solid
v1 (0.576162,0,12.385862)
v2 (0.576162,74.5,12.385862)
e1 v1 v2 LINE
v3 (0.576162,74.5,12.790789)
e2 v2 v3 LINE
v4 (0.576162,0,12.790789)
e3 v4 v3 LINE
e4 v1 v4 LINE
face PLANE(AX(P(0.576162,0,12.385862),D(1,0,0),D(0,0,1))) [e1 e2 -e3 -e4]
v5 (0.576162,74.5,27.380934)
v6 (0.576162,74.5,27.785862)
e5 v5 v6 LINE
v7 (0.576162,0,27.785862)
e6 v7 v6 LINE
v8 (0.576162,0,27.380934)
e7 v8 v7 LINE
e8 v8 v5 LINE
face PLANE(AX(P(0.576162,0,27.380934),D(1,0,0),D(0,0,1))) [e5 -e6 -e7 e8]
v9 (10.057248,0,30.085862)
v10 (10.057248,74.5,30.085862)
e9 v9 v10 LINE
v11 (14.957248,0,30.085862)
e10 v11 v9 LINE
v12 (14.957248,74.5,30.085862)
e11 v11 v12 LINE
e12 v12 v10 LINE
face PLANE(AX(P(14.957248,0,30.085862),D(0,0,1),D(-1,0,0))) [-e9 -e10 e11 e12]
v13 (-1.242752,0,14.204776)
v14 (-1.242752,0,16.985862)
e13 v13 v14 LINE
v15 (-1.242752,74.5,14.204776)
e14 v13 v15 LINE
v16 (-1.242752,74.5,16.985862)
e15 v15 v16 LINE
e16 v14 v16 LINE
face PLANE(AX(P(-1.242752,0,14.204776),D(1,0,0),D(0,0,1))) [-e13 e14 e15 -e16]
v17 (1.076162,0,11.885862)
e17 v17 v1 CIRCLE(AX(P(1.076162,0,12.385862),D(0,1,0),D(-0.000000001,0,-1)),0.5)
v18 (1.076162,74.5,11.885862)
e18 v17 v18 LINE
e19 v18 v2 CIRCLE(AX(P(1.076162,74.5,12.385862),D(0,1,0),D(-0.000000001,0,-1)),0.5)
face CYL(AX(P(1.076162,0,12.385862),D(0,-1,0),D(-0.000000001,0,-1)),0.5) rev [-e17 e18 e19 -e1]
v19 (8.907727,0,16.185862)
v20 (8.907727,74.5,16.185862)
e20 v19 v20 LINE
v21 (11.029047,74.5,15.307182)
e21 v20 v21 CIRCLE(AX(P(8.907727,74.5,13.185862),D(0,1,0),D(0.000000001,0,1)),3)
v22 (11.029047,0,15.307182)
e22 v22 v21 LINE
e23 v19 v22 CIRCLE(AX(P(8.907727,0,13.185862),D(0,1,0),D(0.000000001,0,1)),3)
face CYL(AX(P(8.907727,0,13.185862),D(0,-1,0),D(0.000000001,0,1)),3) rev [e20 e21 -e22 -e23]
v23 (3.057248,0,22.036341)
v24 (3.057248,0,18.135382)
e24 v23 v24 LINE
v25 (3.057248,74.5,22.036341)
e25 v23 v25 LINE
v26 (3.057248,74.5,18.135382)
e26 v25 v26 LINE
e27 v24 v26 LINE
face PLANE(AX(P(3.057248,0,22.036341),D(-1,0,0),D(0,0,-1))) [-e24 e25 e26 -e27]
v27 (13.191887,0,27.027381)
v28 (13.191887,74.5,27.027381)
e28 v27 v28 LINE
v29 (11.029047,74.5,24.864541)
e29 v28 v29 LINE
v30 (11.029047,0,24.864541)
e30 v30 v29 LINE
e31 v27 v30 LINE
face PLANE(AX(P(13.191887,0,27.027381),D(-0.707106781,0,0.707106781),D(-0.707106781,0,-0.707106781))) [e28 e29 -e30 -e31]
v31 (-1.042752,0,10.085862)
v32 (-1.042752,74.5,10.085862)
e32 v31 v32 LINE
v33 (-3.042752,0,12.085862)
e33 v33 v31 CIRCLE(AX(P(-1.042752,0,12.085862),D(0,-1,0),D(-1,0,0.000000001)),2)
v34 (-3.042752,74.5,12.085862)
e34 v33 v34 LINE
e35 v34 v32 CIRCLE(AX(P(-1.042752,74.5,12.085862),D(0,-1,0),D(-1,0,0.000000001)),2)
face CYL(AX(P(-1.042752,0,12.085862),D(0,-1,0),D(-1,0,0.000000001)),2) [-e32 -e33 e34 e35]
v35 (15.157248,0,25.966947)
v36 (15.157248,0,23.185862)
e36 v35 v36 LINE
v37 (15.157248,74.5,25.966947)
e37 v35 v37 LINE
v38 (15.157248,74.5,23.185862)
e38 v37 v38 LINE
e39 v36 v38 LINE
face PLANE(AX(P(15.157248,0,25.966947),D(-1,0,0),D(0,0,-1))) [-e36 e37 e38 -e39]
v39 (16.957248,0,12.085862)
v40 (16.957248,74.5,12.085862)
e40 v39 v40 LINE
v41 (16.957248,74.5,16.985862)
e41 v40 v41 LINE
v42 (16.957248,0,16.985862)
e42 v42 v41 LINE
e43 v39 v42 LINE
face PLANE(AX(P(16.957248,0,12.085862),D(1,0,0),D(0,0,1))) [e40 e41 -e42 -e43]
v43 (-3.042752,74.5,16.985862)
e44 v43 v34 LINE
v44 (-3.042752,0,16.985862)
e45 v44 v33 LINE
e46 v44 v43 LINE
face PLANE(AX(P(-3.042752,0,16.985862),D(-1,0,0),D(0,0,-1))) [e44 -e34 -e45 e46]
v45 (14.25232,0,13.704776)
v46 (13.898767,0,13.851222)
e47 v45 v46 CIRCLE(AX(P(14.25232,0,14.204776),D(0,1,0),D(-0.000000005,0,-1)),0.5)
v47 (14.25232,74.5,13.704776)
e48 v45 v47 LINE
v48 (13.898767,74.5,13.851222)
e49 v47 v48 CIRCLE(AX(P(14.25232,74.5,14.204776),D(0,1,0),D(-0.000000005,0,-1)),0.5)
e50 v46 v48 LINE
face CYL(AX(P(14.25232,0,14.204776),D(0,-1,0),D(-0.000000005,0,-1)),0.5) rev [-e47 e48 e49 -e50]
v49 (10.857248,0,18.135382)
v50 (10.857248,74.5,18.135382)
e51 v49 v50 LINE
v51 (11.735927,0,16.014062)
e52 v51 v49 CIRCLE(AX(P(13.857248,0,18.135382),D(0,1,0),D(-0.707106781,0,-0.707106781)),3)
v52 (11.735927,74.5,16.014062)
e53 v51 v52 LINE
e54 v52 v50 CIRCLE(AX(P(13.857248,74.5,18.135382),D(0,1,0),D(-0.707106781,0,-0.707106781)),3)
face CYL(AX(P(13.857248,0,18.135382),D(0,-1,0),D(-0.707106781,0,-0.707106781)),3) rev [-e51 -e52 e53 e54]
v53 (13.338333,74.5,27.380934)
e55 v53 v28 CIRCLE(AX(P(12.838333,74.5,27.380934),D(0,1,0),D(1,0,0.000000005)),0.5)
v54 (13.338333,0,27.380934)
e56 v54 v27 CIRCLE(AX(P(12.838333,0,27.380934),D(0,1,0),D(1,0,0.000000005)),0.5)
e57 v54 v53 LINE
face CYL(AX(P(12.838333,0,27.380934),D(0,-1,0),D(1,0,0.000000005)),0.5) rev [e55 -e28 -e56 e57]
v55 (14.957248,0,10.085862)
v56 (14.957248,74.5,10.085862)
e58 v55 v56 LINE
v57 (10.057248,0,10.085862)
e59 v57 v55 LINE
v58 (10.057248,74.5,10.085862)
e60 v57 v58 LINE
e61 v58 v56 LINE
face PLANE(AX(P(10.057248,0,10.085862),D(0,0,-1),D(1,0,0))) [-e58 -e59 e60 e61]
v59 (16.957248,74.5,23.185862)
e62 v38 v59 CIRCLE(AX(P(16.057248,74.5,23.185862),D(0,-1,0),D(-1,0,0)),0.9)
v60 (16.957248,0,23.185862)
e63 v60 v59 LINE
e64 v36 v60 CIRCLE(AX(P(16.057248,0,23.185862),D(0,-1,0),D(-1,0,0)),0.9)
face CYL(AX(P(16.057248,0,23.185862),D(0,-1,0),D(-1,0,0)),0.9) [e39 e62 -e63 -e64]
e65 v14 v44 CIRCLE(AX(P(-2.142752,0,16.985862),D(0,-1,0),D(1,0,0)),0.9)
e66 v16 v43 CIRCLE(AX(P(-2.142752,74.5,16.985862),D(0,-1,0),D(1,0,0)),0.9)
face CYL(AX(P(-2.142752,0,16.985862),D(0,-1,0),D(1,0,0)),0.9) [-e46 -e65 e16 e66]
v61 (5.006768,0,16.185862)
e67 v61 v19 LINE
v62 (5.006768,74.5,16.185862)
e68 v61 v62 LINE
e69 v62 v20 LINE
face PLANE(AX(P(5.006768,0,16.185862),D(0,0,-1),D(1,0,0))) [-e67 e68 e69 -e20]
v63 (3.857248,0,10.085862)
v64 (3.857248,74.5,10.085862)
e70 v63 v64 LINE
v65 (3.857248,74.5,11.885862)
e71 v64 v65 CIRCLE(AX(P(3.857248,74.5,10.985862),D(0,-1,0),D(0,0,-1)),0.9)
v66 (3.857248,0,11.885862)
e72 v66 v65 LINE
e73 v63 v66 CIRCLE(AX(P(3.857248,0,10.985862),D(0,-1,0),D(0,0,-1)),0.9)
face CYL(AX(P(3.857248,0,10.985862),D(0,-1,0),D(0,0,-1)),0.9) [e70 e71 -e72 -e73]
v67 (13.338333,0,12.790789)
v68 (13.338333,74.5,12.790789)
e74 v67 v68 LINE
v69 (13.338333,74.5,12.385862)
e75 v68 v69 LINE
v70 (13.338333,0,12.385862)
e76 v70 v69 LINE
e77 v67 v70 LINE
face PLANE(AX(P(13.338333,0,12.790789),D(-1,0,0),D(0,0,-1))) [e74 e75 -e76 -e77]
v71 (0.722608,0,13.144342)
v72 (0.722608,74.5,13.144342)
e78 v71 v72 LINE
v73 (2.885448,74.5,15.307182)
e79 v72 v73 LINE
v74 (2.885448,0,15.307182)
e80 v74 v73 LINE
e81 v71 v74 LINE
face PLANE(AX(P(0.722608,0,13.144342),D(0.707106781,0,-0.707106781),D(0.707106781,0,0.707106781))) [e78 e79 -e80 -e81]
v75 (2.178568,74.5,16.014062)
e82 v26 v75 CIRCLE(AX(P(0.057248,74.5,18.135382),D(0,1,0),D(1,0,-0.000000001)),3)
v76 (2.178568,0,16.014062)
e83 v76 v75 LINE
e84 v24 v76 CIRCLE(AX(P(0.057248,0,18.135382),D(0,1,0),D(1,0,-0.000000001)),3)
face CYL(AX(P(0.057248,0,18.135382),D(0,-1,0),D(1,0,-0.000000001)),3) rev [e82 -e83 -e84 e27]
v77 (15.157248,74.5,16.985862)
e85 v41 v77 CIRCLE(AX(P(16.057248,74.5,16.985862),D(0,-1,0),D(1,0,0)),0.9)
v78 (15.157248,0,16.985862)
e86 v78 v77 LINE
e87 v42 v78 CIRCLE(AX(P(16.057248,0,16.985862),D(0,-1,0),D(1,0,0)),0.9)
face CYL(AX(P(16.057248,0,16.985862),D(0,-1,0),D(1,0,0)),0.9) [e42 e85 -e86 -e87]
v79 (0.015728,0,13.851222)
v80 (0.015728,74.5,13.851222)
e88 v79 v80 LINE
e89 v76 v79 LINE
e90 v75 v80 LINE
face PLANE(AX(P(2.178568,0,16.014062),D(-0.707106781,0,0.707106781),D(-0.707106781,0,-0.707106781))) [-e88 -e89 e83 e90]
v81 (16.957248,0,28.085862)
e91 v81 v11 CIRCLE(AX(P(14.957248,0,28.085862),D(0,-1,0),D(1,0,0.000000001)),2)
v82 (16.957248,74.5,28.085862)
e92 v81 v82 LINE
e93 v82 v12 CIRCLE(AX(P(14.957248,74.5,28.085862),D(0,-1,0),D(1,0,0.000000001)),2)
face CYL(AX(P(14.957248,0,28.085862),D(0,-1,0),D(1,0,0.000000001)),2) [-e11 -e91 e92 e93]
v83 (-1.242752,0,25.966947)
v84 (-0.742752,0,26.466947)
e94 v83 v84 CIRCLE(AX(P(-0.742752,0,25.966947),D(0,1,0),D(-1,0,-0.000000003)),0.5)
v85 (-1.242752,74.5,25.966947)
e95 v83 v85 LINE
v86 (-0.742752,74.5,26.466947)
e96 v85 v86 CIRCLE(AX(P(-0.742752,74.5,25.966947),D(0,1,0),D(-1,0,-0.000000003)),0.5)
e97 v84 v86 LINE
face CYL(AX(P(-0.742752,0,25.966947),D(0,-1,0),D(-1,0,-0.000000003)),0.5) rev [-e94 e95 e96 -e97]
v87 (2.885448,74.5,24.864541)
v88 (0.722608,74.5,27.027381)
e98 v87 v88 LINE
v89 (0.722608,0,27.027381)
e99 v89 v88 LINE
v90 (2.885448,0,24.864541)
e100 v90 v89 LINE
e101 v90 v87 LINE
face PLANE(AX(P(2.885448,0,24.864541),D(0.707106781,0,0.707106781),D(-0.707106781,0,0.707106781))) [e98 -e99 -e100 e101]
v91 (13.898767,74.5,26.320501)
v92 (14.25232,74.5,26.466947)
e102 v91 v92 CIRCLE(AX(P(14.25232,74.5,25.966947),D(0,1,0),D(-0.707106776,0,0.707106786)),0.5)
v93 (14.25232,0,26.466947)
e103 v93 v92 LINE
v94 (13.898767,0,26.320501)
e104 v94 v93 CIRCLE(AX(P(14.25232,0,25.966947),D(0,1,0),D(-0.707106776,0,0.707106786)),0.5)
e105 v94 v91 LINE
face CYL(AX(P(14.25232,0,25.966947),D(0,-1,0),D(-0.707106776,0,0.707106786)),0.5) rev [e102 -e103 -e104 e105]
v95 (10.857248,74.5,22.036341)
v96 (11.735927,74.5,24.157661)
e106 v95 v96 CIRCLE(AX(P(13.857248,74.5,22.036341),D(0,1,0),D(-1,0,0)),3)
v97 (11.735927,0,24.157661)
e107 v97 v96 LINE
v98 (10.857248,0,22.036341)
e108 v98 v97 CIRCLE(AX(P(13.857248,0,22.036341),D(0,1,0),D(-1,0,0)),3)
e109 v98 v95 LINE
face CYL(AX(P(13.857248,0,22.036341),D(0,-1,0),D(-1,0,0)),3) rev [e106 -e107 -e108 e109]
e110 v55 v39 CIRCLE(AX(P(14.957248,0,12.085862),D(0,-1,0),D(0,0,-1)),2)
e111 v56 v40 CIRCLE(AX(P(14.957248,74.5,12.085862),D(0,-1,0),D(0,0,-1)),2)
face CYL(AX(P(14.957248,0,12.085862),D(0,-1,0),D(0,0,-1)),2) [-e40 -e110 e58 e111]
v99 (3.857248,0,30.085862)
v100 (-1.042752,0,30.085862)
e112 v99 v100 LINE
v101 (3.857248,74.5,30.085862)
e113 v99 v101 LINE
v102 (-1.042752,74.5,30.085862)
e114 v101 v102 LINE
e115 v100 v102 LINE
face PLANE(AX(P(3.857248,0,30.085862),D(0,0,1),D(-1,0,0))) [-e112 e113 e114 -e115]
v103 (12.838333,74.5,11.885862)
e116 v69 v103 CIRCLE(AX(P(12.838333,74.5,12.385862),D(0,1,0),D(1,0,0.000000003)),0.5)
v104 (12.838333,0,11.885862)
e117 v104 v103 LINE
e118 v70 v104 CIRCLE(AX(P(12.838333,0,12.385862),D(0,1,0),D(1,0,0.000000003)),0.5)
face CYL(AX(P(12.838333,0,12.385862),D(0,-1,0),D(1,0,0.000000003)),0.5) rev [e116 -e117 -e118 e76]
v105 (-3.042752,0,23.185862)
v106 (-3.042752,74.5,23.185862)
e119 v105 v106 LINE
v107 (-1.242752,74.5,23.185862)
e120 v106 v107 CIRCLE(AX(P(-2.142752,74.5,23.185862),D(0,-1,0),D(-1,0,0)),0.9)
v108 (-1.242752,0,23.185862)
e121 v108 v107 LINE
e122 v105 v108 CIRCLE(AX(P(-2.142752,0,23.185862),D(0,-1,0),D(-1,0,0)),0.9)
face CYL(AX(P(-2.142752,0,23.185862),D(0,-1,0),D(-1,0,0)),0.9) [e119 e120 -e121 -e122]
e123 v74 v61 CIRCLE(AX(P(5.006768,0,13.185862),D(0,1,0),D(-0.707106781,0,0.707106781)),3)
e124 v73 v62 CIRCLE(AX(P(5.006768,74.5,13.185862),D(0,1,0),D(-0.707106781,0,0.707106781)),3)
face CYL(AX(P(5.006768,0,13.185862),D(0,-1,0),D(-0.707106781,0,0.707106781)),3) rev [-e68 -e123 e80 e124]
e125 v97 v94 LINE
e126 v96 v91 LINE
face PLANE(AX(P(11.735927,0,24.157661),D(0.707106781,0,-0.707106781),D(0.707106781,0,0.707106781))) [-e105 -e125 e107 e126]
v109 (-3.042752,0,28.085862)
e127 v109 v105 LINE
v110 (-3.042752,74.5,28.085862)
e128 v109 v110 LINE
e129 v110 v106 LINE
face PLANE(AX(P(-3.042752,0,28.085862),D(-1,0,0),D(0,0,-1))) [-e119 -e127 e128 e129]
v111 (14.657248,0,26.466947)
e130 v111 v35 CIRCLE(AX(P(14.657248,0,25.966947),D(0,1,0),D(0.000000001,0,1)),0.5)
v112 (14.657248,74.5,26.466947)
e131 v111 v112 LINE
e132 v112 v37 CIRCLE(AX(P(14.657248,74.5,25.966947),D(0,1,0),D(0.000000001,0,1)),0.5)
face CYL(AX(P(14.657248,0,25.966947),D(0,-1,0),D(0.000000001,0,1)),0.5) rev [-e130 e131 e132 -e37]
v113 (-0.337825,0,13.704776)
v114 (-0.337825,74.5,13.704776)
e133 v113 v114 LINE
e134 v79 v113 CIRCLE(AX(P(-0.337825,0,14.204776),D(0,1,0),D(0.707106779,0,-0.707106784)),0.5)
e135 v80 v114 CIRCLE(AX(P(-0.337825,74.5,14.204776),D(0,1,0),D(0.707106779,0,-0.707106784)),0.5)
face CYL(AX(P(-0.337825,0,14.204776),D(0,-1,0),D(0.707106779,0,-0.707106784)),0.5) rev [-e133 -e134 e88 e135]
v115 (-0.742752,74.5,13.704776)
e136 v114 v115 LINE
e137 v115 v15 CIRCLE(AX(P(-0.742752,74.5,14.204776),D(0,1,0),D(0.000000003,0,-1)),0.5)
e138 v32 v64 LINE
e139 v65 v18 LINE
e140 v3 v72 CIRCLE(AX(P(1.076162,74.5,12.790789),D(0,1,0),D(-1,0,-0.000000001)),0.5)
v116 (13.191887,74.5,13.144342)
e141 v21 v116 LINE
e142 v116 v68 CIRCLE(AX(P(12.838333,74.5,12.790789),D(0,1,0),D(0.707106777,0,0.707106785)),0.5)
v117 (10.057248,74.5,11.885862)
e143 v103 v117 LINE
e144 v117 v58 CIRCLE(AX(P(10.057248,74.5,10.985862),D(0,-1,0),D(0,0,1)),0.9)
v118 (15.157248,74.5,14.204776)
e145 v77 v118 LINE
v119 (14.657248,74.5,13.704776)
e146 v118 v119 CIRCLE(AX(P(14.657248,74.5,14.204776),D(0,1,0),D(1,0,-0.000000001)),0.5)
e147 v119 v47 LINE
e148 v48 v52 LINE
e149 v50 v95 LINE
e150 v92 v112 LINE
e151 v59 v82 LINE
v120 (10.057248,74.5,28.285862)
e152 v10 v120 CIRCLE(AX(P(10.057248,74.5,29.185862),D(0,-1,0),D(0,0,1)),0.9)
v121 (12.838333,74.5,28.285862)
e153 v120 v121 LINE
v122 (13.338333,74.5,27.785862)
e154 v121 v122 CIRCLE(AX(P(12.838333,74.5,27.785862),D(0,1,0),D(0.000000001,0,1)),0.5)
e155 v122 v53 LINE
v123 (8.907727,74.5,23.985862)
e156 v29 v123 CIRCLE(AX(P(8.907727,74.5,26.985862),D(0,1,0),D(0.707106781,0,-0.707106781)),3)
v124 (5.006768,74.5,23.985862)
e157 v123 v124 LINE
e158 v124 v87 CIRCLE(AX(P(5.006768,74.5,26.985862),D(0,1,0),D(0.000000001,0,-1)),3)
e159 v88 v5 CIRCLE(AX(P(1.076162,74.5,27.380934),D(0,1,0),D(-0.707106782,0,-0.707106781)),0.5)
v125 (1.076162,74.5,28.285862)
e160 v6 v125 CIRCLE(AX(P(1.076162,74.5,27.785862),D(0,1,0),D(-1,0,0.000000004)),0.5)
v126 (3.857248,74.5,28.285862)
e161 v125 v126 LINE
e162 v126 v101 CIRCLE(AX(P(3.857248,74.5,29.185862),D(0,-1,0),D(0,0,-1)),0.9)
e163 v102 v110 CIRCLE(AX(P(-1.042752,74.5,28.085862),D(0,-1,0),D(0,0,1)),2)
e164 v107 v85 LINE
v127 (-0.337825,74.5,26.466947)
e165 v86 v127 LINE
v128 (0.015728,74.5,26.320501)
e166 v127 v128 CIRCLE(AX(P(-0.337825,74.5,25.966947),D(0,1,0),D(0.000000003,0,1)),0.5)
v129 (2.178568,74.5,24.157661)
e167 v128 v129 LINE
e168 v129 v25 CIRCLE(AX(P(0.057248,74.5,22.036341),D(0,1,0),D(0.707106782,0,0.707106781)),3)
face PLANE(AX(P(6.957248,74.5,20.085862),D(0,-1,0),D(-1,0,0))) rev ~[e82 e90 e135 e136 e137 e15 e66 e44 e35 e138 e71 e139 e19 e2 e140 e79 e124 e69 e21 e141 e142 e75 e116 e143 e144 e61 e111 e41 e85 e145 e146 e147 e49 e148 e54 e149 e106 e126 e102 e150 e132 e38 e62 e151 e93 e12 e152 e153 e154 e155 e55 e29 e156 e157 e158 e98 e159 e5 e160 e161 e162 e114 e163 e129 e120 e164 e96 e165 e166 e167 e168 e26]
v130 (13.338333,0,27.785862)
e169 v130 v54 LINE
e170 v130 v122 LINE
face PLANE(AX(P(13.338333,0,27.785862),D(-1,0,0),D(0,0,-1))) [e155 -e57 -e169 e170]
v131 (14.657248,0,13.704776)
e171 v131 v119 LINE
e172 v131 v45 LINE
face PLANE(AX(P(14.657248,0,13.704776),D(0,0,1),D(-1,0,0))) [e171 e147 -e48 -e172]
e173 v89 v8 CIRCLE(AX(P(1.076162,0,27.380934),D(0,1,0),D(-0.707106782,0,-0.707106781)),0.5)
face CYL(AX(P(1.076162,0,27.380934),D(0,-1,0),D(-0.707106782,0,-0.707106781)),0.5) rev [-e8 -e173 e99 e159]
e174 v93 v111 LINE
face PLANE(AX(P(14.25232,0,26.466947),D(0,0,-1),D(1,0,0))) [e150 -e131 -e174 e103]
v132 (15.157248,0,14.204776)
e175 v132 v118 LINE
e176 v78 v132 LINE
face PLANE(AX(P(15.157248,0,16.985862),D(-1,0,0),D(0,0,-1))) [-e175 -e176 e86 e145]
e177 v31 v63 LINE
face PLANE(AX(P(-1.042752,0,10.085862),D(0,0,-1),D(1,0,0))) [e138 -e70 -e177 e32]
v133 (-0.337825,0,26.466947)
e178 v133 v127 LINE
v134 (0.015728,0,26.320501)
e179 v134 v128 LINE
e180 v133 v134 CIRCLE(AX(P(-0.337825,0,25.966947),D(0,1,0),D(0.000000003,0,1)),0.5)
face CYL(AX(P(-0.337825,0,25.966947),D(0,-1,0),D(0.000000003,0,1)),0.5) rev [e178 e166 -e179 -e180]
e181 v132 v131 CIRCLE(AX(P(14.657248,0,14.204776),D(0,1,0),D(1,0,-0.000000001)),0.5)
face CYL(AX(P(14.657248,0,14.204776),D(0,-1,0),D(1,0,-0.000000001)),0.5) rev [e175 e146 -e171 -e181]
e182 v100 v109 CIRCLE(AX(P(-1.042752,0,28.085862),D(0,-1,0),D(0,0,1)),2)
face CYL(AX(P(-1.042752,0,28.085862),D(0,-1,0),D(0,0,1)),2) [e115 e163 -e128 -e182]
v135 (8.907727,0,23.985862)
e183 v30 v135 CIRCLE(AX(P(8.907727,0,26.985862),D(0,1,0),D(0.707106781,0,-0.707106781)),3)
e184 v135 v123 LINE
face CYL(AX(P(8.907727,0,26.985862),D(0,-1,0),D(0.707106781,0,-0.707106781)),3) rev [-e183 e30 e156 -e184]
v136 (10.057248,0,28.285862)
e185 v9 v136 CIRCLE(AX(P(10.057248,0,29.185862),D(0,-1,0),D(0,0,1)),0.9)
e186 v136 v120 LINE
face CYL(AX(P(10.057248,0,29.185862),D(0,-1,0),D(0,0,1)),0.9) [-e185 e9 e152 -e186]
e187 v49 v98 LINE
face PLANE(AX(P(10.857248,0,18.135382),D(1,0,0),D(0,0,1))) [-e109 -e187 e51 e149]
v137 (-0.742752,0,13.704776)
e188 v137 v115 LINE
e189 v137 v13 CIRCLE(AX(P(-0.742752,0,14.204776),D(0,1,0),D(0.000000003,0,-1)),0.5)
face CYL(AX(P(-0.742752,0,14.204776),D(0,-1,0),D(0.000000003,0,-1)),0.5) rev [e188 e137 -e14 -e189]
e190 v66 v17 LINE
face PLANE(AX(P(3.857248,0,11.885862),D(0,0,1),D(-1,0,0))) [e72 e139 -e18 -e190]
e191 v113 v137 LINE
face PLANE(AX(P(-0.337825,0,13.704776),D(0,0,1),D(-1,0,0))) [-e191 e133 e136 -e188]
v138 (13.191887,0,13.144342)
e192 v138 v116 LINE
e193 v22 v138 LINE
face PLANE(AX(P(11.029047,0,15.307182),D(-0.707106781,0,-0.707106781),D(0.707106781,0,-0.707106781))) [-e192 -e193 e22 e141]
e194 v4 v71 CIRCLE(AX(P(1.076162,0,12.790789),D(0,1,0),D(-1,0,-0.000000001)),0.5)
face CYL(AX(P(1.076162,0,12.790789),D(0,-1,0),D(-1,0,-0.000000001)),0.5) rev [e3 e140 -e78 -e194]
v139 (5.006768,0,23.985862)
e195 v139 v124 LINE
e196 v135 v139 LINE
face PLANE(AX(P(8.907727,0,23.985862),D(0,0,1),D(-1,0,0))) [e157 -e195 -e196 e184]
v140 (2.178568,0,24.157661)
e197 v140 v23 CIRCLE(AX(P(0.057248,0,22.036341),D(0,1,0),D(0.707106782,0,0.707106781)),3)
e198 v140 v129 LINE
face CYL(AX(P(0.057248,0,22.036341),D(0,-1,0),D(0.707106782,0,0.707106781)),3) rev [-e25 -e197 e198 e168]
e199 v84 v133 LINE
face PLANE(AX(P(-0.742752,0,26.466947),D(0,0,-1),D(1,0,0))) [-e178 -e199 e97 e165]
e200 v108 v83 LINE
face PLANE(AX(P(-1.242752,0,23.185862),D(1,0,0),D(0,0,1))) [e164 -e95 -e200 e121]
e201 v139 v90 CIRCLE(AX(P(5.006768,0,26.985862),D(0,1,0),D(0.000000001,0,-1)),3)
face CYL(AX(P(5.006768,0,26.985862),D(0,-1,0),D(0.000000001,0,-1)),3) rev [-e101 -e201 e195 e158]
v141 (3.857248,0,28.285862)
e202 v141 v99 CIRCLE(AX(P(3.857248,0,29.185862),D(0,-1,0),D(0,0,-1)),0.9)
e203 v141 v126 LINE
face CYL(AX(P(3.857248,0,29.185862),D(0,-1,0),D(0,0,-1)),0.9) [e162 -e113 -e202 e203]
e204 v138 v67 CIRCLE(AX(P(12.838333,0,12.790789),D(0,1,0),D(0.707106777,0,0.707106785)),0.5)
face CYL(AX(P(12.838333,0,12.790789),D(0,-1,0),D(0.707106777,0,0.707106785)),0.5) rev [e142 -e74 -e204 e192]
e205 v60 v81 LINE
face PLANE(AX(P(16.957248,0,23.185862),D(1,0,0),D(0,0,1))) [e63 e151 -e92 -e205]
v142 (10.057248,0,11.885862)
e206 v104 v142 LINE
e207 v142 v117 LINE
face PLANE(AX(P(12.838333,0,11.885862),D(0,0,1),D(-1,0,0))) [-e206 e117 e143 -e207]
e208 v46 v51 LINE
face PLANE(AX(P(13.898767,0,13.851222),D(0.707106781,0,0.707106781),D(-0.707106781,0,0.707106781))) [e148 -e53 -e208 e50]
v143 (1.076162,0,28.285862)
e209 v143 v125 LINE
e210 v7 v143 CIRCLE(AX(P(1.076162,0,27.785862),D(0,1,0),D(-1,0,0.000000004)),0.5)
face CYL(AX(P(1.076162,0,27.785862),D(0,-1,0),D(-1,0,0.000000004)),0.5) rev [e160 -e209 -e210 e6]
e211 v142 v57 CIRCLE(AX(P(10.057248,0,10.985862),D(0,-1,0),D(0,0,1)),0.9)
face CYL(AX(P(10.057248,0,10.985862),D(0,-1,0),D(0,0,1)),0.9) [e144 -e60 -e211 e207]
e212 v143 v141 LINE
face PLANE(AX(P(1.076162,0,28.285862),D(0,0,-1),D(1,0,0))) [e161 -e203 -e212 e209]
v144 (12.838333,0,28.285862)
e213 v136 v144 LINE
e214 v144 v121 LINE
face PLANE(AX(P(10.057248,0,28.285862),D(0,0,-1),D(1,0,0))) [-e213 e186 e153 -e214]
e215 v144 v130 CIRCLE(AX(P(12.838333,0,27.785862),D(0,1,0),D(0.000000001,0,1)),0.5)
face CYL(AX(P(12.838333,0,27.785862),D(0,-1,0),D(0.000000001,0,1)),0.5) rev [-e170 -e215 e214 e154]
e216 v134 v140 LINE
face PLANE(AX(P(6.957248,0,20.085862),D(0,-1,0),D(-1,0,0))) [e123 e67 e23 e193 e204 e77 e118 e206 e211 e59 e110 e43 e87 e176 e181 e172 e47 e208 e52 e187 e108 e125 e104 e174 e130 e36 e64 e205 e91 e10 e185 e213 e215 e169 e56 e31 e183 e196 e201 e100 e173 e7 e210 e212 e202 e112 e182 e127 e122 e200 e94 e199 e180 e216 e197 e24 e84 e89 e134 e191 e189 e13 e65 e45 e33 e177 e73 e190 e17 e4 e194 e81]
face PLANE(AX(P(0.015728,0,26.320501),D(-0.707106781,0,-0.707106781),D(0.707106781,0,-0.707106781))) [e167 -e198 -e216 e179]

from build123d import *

# Parameters (mm, degrees)
EXTRUDE_1_DEPTH = 74.5


with BuildPart() as part:
    # 草图1 → 凸台-拉伸1 (new body)
    with BuildSketch(Plane(origin=(0, 0, 0), x_dir=(1, 0, 0), z_dir=(0, 1, 0))):
        with BuildLine():
            Line((-1.042752475, -10.085861632), (3.857247525, -10.085861632))
            ThreePointArc((3.857247525, -10.085861632), (4.757247525, -10.985861632), (3.857247525, -11.885861632))
            Line((3.857247525, -11.885861632), (1.076161722, -11.885861632))
            ThreePointArc((1.076161722, -11.885861632), (0.722608332, -12.032308241), (0.576161722, -12.385861632))
            Line((0.576161722, -12.385861632), (0.576161722, -12.790788968))
            ThreePointArc((0.576161722, -12.790788968), (0.614221956, -12.982130685), (0.722608332, -13.144342359))
            Line((0.722608332, -13.144342359), (2.885447948, -15.307181975))
            ThreePointArc((2.885447948, -15.307181975), (3.858717994, -15.957500229), (5.006768291, -16.185861632))
            Line((5.006768291, -16.185861632), (8.907726758, -16.185861632))
            ThreePointArc((8.907726758, -16.185861632), (10.055777055, -15.957500229), (11.029047102, -15.307181975))
            Line((11.029047102, -15.307181975), (13.191886718, -13.144342359))
            ThreePointArc((13.191886718, -13.144342359), (13.300273094, -12.982130685), (13.338333327, -12.790788968))
            Line((13.338333327, -12.790788968), (13.338333327, -12.385861632))
            ThreePointArc((13.338333327, -12.385861632), (13.191886718, -12.032308241), (12.838333327, -11.885861632))
            Line((12.838333327, -11.885861632), (10.057247525, -11.885861632))
            ThreePointArc((10.057247525, -11.885861632), (9.157247525, -10.985861632), (10.057247525, -10.085861632))
            Line((10.057247525, -10.085861632), (14.957247525, -10.085861632))
            ThreePointArc((14.957247525, -10.085861632), (16.371461087, -10.671648069), (16.957247525, -12.085861632))
            Line((16.957247525, -12.085861632), (16.957247525, -16.985861632))
            ThreePointArc((16.957247525, -16.985861632), (16.057247525, -17.885861632), (15.157247525, -16.985861632))
            Line((15.157247525, -16.985861632), (15.157247525, -14.204775829))
            ThreePointArc((15.157247525, -14.204775829), (15.010800915, -13.851222438), (14.657247525, -13.704775829))
            Line((14.657247525, -13.704775829), (14.252320188, -13.704775829))
            ThreePointArc((14.252320188, -13.704775829), (14.060978472, -13.742836063), (13.898766797, -13.851222438))
            Line((13.898766797, -13.851222438), (11.735927181, -16.014062054))
            ThreePointArc((11.735927181, -16.014062054), (11.085608927, -16.987332101), (10.857247525, -18.135382398))
            Line((10.857247525, -18.135382398), (10.857247525, -22.036340865))
            ThreePointArc((10.857247525, -22.036340865), (11.085608927, -23.184391162), (11.735927181, -24.157661209))
            Line((11.735927181, -24.157661209), (13.898766797, -26.320500825))
            ThreePointArc((13.898766797, -26.320500825), (14.060978472, -26.4288872), (14.252320188, -26.466947434))
            Line((14.252320188, -26.466947434), (14.657247525, -26.466947434))
            ThreePointArc((14.657247525, -26.466947434), (15.010800915, -26.320500825), (15.157247525, -25.966947434))
            Line((15.157247525, -25.966947434), (15.157247525, -23.185861632))
            ThreePointArc((15.157247525, -23.185861632), (16.057247525, -22.285861632), (16.957247525, -23.185861632))
            Line((16.957247525, -23.185861632), (16.957247525, -28.085861632))
            ThreePointArc((16.957247525, -28.085861632), (16.371461087, -29.500075194), (14.957247525, -30.085861632))
            Line((14.957247525, -30.085861632), (10.057247525, -30.085861632))
            ThreePointArc((10.057247525, -30.085861632), (9.157247525, -29.185861632), (10.057247525, -28.285861632))
            Line((10.057247525, -28.285861632), (12.838333327, -28.285861632))
            ThreePointArc((12.838333327, -28.285861632), (13.191886718, -28.139415022), (13.338333327, -27.785861632))
            Line((13.338333327, -27.785861632), (13.338333327, -27.380934295))
            ThreePointArc((13.338333327, -27.380934295), (13.300273094, -27.189592579), (13.191886718, -27.027380904))
            Line((13.191886718, -27.027380904), (11.029047102, -24.864541288))
            ThreePointArc((11.029047102, -24.864541288), (10.055777055, -24.214223034), (8.907726758, -23.985861632))
            Line((8.907726758, -23.985861632), (5.006768291, -23.985861632))
            ThreePointArc((5.006768291, -23.985861632), (3.858717994, -24.214223034), (2.885447948, -24.864541288))
            Line((2.885447948, -24.864541288), (0.722608332, -27.027380904))
            ThreePointArc((0.722608332, -27.027380904), (0.614221956, -27.189592579), (0.576161722, -27.380934295))
            Line((0.576161722, -27.380934295), (0.576161722, -27.785861632))
            ThreePointArc((0.576161722, -27.785861632), (0.722608332, -28.139415022), (1.076161722, -28.285861632))
            Line((1.076161722, -28.285861632), (3.857247525, -28.285861632))
            ThreePointArc((3.857247525, -28.285861632), (4.757247525, -29.185861632), (3.857247525, -30.085861632))
            Line((3.857247525, -30.085861632), (-1.042752475, -30.085861632))
            ThreePointArc((-1.042752475, -30.085861632), (-2.456966038, -29.500075194), (-3.042752475, -28.085861632))
            Line((-3.042752475, -28.085861632), (-3.042752475, -23.185861632))
            ThreePointArc((-3.042752475, -23.185861632), (-2.142752475, -22.285861632), (-1.242752475, -23.185861632))
            Line((-1.242752475, -23.185861632), (-1.242752475, -25.966947434))
            ThreePointArc((-1.242752475, -25.966947434), (-1.096305866, -26.320500825), (-0.742752475, -26.466947434))
            Line((-0.742752475, -26.466947434), (-0.337825138, -26.466947434))
            ThreePointArc((-0.337825138, -26.466947434), (-0.146483422, -26.4288872), (0.015728252, -26.320500825))
            Line((0.015728252, -26.320500825), (2.178567868, -24.157661209))
            ThreePointArc((2.178567868, -24.157661209), (2.828886122, -23.184391162), (3.057247525, -22.036340865))
            Line((3.057247525, -22.036340865), (3.057247525, -18.135382398))
            ThreePointArc((3.057247525, -18.135382398), (2.828886122, -16.987332101), (2.178567868, -16.014062054))
            Line((2.178567868, -16.014062054), (0.015728252, -13.851222438))
            ThreePointArc((0.015728252, -13.851222438), (-0.146483422, -13.742836063), (-0.337825138, -13.704775829))
            Line((-0.337825138, -13.704775829), (-0.742752475, -13.704775829))
            ThreePointArc((-0.742752475, -13.704775829), (-1.096305866, -13.851222438), (-1.242752475, -14.204775829))
            Line((-1.242752475, -14.204775829), (-1.242752475, -16.985861632))
            ThreePointArc((-1.242752475, -16.985861632), (-2.142752475, -17.885861632), (-3.042752475, -16.985861632))
            Line((-3.042752475, -16.985861632), (-3.042752475, -12.085861632))
            ThreePointArc((-3.042752475, -12.085861632), (-2.456966038, -10.671648069), (-1.042752475, -10.085861632))
        make_face()
    extrude(amount=EXTRUDE_1_DEPTH)


solid = part.part
